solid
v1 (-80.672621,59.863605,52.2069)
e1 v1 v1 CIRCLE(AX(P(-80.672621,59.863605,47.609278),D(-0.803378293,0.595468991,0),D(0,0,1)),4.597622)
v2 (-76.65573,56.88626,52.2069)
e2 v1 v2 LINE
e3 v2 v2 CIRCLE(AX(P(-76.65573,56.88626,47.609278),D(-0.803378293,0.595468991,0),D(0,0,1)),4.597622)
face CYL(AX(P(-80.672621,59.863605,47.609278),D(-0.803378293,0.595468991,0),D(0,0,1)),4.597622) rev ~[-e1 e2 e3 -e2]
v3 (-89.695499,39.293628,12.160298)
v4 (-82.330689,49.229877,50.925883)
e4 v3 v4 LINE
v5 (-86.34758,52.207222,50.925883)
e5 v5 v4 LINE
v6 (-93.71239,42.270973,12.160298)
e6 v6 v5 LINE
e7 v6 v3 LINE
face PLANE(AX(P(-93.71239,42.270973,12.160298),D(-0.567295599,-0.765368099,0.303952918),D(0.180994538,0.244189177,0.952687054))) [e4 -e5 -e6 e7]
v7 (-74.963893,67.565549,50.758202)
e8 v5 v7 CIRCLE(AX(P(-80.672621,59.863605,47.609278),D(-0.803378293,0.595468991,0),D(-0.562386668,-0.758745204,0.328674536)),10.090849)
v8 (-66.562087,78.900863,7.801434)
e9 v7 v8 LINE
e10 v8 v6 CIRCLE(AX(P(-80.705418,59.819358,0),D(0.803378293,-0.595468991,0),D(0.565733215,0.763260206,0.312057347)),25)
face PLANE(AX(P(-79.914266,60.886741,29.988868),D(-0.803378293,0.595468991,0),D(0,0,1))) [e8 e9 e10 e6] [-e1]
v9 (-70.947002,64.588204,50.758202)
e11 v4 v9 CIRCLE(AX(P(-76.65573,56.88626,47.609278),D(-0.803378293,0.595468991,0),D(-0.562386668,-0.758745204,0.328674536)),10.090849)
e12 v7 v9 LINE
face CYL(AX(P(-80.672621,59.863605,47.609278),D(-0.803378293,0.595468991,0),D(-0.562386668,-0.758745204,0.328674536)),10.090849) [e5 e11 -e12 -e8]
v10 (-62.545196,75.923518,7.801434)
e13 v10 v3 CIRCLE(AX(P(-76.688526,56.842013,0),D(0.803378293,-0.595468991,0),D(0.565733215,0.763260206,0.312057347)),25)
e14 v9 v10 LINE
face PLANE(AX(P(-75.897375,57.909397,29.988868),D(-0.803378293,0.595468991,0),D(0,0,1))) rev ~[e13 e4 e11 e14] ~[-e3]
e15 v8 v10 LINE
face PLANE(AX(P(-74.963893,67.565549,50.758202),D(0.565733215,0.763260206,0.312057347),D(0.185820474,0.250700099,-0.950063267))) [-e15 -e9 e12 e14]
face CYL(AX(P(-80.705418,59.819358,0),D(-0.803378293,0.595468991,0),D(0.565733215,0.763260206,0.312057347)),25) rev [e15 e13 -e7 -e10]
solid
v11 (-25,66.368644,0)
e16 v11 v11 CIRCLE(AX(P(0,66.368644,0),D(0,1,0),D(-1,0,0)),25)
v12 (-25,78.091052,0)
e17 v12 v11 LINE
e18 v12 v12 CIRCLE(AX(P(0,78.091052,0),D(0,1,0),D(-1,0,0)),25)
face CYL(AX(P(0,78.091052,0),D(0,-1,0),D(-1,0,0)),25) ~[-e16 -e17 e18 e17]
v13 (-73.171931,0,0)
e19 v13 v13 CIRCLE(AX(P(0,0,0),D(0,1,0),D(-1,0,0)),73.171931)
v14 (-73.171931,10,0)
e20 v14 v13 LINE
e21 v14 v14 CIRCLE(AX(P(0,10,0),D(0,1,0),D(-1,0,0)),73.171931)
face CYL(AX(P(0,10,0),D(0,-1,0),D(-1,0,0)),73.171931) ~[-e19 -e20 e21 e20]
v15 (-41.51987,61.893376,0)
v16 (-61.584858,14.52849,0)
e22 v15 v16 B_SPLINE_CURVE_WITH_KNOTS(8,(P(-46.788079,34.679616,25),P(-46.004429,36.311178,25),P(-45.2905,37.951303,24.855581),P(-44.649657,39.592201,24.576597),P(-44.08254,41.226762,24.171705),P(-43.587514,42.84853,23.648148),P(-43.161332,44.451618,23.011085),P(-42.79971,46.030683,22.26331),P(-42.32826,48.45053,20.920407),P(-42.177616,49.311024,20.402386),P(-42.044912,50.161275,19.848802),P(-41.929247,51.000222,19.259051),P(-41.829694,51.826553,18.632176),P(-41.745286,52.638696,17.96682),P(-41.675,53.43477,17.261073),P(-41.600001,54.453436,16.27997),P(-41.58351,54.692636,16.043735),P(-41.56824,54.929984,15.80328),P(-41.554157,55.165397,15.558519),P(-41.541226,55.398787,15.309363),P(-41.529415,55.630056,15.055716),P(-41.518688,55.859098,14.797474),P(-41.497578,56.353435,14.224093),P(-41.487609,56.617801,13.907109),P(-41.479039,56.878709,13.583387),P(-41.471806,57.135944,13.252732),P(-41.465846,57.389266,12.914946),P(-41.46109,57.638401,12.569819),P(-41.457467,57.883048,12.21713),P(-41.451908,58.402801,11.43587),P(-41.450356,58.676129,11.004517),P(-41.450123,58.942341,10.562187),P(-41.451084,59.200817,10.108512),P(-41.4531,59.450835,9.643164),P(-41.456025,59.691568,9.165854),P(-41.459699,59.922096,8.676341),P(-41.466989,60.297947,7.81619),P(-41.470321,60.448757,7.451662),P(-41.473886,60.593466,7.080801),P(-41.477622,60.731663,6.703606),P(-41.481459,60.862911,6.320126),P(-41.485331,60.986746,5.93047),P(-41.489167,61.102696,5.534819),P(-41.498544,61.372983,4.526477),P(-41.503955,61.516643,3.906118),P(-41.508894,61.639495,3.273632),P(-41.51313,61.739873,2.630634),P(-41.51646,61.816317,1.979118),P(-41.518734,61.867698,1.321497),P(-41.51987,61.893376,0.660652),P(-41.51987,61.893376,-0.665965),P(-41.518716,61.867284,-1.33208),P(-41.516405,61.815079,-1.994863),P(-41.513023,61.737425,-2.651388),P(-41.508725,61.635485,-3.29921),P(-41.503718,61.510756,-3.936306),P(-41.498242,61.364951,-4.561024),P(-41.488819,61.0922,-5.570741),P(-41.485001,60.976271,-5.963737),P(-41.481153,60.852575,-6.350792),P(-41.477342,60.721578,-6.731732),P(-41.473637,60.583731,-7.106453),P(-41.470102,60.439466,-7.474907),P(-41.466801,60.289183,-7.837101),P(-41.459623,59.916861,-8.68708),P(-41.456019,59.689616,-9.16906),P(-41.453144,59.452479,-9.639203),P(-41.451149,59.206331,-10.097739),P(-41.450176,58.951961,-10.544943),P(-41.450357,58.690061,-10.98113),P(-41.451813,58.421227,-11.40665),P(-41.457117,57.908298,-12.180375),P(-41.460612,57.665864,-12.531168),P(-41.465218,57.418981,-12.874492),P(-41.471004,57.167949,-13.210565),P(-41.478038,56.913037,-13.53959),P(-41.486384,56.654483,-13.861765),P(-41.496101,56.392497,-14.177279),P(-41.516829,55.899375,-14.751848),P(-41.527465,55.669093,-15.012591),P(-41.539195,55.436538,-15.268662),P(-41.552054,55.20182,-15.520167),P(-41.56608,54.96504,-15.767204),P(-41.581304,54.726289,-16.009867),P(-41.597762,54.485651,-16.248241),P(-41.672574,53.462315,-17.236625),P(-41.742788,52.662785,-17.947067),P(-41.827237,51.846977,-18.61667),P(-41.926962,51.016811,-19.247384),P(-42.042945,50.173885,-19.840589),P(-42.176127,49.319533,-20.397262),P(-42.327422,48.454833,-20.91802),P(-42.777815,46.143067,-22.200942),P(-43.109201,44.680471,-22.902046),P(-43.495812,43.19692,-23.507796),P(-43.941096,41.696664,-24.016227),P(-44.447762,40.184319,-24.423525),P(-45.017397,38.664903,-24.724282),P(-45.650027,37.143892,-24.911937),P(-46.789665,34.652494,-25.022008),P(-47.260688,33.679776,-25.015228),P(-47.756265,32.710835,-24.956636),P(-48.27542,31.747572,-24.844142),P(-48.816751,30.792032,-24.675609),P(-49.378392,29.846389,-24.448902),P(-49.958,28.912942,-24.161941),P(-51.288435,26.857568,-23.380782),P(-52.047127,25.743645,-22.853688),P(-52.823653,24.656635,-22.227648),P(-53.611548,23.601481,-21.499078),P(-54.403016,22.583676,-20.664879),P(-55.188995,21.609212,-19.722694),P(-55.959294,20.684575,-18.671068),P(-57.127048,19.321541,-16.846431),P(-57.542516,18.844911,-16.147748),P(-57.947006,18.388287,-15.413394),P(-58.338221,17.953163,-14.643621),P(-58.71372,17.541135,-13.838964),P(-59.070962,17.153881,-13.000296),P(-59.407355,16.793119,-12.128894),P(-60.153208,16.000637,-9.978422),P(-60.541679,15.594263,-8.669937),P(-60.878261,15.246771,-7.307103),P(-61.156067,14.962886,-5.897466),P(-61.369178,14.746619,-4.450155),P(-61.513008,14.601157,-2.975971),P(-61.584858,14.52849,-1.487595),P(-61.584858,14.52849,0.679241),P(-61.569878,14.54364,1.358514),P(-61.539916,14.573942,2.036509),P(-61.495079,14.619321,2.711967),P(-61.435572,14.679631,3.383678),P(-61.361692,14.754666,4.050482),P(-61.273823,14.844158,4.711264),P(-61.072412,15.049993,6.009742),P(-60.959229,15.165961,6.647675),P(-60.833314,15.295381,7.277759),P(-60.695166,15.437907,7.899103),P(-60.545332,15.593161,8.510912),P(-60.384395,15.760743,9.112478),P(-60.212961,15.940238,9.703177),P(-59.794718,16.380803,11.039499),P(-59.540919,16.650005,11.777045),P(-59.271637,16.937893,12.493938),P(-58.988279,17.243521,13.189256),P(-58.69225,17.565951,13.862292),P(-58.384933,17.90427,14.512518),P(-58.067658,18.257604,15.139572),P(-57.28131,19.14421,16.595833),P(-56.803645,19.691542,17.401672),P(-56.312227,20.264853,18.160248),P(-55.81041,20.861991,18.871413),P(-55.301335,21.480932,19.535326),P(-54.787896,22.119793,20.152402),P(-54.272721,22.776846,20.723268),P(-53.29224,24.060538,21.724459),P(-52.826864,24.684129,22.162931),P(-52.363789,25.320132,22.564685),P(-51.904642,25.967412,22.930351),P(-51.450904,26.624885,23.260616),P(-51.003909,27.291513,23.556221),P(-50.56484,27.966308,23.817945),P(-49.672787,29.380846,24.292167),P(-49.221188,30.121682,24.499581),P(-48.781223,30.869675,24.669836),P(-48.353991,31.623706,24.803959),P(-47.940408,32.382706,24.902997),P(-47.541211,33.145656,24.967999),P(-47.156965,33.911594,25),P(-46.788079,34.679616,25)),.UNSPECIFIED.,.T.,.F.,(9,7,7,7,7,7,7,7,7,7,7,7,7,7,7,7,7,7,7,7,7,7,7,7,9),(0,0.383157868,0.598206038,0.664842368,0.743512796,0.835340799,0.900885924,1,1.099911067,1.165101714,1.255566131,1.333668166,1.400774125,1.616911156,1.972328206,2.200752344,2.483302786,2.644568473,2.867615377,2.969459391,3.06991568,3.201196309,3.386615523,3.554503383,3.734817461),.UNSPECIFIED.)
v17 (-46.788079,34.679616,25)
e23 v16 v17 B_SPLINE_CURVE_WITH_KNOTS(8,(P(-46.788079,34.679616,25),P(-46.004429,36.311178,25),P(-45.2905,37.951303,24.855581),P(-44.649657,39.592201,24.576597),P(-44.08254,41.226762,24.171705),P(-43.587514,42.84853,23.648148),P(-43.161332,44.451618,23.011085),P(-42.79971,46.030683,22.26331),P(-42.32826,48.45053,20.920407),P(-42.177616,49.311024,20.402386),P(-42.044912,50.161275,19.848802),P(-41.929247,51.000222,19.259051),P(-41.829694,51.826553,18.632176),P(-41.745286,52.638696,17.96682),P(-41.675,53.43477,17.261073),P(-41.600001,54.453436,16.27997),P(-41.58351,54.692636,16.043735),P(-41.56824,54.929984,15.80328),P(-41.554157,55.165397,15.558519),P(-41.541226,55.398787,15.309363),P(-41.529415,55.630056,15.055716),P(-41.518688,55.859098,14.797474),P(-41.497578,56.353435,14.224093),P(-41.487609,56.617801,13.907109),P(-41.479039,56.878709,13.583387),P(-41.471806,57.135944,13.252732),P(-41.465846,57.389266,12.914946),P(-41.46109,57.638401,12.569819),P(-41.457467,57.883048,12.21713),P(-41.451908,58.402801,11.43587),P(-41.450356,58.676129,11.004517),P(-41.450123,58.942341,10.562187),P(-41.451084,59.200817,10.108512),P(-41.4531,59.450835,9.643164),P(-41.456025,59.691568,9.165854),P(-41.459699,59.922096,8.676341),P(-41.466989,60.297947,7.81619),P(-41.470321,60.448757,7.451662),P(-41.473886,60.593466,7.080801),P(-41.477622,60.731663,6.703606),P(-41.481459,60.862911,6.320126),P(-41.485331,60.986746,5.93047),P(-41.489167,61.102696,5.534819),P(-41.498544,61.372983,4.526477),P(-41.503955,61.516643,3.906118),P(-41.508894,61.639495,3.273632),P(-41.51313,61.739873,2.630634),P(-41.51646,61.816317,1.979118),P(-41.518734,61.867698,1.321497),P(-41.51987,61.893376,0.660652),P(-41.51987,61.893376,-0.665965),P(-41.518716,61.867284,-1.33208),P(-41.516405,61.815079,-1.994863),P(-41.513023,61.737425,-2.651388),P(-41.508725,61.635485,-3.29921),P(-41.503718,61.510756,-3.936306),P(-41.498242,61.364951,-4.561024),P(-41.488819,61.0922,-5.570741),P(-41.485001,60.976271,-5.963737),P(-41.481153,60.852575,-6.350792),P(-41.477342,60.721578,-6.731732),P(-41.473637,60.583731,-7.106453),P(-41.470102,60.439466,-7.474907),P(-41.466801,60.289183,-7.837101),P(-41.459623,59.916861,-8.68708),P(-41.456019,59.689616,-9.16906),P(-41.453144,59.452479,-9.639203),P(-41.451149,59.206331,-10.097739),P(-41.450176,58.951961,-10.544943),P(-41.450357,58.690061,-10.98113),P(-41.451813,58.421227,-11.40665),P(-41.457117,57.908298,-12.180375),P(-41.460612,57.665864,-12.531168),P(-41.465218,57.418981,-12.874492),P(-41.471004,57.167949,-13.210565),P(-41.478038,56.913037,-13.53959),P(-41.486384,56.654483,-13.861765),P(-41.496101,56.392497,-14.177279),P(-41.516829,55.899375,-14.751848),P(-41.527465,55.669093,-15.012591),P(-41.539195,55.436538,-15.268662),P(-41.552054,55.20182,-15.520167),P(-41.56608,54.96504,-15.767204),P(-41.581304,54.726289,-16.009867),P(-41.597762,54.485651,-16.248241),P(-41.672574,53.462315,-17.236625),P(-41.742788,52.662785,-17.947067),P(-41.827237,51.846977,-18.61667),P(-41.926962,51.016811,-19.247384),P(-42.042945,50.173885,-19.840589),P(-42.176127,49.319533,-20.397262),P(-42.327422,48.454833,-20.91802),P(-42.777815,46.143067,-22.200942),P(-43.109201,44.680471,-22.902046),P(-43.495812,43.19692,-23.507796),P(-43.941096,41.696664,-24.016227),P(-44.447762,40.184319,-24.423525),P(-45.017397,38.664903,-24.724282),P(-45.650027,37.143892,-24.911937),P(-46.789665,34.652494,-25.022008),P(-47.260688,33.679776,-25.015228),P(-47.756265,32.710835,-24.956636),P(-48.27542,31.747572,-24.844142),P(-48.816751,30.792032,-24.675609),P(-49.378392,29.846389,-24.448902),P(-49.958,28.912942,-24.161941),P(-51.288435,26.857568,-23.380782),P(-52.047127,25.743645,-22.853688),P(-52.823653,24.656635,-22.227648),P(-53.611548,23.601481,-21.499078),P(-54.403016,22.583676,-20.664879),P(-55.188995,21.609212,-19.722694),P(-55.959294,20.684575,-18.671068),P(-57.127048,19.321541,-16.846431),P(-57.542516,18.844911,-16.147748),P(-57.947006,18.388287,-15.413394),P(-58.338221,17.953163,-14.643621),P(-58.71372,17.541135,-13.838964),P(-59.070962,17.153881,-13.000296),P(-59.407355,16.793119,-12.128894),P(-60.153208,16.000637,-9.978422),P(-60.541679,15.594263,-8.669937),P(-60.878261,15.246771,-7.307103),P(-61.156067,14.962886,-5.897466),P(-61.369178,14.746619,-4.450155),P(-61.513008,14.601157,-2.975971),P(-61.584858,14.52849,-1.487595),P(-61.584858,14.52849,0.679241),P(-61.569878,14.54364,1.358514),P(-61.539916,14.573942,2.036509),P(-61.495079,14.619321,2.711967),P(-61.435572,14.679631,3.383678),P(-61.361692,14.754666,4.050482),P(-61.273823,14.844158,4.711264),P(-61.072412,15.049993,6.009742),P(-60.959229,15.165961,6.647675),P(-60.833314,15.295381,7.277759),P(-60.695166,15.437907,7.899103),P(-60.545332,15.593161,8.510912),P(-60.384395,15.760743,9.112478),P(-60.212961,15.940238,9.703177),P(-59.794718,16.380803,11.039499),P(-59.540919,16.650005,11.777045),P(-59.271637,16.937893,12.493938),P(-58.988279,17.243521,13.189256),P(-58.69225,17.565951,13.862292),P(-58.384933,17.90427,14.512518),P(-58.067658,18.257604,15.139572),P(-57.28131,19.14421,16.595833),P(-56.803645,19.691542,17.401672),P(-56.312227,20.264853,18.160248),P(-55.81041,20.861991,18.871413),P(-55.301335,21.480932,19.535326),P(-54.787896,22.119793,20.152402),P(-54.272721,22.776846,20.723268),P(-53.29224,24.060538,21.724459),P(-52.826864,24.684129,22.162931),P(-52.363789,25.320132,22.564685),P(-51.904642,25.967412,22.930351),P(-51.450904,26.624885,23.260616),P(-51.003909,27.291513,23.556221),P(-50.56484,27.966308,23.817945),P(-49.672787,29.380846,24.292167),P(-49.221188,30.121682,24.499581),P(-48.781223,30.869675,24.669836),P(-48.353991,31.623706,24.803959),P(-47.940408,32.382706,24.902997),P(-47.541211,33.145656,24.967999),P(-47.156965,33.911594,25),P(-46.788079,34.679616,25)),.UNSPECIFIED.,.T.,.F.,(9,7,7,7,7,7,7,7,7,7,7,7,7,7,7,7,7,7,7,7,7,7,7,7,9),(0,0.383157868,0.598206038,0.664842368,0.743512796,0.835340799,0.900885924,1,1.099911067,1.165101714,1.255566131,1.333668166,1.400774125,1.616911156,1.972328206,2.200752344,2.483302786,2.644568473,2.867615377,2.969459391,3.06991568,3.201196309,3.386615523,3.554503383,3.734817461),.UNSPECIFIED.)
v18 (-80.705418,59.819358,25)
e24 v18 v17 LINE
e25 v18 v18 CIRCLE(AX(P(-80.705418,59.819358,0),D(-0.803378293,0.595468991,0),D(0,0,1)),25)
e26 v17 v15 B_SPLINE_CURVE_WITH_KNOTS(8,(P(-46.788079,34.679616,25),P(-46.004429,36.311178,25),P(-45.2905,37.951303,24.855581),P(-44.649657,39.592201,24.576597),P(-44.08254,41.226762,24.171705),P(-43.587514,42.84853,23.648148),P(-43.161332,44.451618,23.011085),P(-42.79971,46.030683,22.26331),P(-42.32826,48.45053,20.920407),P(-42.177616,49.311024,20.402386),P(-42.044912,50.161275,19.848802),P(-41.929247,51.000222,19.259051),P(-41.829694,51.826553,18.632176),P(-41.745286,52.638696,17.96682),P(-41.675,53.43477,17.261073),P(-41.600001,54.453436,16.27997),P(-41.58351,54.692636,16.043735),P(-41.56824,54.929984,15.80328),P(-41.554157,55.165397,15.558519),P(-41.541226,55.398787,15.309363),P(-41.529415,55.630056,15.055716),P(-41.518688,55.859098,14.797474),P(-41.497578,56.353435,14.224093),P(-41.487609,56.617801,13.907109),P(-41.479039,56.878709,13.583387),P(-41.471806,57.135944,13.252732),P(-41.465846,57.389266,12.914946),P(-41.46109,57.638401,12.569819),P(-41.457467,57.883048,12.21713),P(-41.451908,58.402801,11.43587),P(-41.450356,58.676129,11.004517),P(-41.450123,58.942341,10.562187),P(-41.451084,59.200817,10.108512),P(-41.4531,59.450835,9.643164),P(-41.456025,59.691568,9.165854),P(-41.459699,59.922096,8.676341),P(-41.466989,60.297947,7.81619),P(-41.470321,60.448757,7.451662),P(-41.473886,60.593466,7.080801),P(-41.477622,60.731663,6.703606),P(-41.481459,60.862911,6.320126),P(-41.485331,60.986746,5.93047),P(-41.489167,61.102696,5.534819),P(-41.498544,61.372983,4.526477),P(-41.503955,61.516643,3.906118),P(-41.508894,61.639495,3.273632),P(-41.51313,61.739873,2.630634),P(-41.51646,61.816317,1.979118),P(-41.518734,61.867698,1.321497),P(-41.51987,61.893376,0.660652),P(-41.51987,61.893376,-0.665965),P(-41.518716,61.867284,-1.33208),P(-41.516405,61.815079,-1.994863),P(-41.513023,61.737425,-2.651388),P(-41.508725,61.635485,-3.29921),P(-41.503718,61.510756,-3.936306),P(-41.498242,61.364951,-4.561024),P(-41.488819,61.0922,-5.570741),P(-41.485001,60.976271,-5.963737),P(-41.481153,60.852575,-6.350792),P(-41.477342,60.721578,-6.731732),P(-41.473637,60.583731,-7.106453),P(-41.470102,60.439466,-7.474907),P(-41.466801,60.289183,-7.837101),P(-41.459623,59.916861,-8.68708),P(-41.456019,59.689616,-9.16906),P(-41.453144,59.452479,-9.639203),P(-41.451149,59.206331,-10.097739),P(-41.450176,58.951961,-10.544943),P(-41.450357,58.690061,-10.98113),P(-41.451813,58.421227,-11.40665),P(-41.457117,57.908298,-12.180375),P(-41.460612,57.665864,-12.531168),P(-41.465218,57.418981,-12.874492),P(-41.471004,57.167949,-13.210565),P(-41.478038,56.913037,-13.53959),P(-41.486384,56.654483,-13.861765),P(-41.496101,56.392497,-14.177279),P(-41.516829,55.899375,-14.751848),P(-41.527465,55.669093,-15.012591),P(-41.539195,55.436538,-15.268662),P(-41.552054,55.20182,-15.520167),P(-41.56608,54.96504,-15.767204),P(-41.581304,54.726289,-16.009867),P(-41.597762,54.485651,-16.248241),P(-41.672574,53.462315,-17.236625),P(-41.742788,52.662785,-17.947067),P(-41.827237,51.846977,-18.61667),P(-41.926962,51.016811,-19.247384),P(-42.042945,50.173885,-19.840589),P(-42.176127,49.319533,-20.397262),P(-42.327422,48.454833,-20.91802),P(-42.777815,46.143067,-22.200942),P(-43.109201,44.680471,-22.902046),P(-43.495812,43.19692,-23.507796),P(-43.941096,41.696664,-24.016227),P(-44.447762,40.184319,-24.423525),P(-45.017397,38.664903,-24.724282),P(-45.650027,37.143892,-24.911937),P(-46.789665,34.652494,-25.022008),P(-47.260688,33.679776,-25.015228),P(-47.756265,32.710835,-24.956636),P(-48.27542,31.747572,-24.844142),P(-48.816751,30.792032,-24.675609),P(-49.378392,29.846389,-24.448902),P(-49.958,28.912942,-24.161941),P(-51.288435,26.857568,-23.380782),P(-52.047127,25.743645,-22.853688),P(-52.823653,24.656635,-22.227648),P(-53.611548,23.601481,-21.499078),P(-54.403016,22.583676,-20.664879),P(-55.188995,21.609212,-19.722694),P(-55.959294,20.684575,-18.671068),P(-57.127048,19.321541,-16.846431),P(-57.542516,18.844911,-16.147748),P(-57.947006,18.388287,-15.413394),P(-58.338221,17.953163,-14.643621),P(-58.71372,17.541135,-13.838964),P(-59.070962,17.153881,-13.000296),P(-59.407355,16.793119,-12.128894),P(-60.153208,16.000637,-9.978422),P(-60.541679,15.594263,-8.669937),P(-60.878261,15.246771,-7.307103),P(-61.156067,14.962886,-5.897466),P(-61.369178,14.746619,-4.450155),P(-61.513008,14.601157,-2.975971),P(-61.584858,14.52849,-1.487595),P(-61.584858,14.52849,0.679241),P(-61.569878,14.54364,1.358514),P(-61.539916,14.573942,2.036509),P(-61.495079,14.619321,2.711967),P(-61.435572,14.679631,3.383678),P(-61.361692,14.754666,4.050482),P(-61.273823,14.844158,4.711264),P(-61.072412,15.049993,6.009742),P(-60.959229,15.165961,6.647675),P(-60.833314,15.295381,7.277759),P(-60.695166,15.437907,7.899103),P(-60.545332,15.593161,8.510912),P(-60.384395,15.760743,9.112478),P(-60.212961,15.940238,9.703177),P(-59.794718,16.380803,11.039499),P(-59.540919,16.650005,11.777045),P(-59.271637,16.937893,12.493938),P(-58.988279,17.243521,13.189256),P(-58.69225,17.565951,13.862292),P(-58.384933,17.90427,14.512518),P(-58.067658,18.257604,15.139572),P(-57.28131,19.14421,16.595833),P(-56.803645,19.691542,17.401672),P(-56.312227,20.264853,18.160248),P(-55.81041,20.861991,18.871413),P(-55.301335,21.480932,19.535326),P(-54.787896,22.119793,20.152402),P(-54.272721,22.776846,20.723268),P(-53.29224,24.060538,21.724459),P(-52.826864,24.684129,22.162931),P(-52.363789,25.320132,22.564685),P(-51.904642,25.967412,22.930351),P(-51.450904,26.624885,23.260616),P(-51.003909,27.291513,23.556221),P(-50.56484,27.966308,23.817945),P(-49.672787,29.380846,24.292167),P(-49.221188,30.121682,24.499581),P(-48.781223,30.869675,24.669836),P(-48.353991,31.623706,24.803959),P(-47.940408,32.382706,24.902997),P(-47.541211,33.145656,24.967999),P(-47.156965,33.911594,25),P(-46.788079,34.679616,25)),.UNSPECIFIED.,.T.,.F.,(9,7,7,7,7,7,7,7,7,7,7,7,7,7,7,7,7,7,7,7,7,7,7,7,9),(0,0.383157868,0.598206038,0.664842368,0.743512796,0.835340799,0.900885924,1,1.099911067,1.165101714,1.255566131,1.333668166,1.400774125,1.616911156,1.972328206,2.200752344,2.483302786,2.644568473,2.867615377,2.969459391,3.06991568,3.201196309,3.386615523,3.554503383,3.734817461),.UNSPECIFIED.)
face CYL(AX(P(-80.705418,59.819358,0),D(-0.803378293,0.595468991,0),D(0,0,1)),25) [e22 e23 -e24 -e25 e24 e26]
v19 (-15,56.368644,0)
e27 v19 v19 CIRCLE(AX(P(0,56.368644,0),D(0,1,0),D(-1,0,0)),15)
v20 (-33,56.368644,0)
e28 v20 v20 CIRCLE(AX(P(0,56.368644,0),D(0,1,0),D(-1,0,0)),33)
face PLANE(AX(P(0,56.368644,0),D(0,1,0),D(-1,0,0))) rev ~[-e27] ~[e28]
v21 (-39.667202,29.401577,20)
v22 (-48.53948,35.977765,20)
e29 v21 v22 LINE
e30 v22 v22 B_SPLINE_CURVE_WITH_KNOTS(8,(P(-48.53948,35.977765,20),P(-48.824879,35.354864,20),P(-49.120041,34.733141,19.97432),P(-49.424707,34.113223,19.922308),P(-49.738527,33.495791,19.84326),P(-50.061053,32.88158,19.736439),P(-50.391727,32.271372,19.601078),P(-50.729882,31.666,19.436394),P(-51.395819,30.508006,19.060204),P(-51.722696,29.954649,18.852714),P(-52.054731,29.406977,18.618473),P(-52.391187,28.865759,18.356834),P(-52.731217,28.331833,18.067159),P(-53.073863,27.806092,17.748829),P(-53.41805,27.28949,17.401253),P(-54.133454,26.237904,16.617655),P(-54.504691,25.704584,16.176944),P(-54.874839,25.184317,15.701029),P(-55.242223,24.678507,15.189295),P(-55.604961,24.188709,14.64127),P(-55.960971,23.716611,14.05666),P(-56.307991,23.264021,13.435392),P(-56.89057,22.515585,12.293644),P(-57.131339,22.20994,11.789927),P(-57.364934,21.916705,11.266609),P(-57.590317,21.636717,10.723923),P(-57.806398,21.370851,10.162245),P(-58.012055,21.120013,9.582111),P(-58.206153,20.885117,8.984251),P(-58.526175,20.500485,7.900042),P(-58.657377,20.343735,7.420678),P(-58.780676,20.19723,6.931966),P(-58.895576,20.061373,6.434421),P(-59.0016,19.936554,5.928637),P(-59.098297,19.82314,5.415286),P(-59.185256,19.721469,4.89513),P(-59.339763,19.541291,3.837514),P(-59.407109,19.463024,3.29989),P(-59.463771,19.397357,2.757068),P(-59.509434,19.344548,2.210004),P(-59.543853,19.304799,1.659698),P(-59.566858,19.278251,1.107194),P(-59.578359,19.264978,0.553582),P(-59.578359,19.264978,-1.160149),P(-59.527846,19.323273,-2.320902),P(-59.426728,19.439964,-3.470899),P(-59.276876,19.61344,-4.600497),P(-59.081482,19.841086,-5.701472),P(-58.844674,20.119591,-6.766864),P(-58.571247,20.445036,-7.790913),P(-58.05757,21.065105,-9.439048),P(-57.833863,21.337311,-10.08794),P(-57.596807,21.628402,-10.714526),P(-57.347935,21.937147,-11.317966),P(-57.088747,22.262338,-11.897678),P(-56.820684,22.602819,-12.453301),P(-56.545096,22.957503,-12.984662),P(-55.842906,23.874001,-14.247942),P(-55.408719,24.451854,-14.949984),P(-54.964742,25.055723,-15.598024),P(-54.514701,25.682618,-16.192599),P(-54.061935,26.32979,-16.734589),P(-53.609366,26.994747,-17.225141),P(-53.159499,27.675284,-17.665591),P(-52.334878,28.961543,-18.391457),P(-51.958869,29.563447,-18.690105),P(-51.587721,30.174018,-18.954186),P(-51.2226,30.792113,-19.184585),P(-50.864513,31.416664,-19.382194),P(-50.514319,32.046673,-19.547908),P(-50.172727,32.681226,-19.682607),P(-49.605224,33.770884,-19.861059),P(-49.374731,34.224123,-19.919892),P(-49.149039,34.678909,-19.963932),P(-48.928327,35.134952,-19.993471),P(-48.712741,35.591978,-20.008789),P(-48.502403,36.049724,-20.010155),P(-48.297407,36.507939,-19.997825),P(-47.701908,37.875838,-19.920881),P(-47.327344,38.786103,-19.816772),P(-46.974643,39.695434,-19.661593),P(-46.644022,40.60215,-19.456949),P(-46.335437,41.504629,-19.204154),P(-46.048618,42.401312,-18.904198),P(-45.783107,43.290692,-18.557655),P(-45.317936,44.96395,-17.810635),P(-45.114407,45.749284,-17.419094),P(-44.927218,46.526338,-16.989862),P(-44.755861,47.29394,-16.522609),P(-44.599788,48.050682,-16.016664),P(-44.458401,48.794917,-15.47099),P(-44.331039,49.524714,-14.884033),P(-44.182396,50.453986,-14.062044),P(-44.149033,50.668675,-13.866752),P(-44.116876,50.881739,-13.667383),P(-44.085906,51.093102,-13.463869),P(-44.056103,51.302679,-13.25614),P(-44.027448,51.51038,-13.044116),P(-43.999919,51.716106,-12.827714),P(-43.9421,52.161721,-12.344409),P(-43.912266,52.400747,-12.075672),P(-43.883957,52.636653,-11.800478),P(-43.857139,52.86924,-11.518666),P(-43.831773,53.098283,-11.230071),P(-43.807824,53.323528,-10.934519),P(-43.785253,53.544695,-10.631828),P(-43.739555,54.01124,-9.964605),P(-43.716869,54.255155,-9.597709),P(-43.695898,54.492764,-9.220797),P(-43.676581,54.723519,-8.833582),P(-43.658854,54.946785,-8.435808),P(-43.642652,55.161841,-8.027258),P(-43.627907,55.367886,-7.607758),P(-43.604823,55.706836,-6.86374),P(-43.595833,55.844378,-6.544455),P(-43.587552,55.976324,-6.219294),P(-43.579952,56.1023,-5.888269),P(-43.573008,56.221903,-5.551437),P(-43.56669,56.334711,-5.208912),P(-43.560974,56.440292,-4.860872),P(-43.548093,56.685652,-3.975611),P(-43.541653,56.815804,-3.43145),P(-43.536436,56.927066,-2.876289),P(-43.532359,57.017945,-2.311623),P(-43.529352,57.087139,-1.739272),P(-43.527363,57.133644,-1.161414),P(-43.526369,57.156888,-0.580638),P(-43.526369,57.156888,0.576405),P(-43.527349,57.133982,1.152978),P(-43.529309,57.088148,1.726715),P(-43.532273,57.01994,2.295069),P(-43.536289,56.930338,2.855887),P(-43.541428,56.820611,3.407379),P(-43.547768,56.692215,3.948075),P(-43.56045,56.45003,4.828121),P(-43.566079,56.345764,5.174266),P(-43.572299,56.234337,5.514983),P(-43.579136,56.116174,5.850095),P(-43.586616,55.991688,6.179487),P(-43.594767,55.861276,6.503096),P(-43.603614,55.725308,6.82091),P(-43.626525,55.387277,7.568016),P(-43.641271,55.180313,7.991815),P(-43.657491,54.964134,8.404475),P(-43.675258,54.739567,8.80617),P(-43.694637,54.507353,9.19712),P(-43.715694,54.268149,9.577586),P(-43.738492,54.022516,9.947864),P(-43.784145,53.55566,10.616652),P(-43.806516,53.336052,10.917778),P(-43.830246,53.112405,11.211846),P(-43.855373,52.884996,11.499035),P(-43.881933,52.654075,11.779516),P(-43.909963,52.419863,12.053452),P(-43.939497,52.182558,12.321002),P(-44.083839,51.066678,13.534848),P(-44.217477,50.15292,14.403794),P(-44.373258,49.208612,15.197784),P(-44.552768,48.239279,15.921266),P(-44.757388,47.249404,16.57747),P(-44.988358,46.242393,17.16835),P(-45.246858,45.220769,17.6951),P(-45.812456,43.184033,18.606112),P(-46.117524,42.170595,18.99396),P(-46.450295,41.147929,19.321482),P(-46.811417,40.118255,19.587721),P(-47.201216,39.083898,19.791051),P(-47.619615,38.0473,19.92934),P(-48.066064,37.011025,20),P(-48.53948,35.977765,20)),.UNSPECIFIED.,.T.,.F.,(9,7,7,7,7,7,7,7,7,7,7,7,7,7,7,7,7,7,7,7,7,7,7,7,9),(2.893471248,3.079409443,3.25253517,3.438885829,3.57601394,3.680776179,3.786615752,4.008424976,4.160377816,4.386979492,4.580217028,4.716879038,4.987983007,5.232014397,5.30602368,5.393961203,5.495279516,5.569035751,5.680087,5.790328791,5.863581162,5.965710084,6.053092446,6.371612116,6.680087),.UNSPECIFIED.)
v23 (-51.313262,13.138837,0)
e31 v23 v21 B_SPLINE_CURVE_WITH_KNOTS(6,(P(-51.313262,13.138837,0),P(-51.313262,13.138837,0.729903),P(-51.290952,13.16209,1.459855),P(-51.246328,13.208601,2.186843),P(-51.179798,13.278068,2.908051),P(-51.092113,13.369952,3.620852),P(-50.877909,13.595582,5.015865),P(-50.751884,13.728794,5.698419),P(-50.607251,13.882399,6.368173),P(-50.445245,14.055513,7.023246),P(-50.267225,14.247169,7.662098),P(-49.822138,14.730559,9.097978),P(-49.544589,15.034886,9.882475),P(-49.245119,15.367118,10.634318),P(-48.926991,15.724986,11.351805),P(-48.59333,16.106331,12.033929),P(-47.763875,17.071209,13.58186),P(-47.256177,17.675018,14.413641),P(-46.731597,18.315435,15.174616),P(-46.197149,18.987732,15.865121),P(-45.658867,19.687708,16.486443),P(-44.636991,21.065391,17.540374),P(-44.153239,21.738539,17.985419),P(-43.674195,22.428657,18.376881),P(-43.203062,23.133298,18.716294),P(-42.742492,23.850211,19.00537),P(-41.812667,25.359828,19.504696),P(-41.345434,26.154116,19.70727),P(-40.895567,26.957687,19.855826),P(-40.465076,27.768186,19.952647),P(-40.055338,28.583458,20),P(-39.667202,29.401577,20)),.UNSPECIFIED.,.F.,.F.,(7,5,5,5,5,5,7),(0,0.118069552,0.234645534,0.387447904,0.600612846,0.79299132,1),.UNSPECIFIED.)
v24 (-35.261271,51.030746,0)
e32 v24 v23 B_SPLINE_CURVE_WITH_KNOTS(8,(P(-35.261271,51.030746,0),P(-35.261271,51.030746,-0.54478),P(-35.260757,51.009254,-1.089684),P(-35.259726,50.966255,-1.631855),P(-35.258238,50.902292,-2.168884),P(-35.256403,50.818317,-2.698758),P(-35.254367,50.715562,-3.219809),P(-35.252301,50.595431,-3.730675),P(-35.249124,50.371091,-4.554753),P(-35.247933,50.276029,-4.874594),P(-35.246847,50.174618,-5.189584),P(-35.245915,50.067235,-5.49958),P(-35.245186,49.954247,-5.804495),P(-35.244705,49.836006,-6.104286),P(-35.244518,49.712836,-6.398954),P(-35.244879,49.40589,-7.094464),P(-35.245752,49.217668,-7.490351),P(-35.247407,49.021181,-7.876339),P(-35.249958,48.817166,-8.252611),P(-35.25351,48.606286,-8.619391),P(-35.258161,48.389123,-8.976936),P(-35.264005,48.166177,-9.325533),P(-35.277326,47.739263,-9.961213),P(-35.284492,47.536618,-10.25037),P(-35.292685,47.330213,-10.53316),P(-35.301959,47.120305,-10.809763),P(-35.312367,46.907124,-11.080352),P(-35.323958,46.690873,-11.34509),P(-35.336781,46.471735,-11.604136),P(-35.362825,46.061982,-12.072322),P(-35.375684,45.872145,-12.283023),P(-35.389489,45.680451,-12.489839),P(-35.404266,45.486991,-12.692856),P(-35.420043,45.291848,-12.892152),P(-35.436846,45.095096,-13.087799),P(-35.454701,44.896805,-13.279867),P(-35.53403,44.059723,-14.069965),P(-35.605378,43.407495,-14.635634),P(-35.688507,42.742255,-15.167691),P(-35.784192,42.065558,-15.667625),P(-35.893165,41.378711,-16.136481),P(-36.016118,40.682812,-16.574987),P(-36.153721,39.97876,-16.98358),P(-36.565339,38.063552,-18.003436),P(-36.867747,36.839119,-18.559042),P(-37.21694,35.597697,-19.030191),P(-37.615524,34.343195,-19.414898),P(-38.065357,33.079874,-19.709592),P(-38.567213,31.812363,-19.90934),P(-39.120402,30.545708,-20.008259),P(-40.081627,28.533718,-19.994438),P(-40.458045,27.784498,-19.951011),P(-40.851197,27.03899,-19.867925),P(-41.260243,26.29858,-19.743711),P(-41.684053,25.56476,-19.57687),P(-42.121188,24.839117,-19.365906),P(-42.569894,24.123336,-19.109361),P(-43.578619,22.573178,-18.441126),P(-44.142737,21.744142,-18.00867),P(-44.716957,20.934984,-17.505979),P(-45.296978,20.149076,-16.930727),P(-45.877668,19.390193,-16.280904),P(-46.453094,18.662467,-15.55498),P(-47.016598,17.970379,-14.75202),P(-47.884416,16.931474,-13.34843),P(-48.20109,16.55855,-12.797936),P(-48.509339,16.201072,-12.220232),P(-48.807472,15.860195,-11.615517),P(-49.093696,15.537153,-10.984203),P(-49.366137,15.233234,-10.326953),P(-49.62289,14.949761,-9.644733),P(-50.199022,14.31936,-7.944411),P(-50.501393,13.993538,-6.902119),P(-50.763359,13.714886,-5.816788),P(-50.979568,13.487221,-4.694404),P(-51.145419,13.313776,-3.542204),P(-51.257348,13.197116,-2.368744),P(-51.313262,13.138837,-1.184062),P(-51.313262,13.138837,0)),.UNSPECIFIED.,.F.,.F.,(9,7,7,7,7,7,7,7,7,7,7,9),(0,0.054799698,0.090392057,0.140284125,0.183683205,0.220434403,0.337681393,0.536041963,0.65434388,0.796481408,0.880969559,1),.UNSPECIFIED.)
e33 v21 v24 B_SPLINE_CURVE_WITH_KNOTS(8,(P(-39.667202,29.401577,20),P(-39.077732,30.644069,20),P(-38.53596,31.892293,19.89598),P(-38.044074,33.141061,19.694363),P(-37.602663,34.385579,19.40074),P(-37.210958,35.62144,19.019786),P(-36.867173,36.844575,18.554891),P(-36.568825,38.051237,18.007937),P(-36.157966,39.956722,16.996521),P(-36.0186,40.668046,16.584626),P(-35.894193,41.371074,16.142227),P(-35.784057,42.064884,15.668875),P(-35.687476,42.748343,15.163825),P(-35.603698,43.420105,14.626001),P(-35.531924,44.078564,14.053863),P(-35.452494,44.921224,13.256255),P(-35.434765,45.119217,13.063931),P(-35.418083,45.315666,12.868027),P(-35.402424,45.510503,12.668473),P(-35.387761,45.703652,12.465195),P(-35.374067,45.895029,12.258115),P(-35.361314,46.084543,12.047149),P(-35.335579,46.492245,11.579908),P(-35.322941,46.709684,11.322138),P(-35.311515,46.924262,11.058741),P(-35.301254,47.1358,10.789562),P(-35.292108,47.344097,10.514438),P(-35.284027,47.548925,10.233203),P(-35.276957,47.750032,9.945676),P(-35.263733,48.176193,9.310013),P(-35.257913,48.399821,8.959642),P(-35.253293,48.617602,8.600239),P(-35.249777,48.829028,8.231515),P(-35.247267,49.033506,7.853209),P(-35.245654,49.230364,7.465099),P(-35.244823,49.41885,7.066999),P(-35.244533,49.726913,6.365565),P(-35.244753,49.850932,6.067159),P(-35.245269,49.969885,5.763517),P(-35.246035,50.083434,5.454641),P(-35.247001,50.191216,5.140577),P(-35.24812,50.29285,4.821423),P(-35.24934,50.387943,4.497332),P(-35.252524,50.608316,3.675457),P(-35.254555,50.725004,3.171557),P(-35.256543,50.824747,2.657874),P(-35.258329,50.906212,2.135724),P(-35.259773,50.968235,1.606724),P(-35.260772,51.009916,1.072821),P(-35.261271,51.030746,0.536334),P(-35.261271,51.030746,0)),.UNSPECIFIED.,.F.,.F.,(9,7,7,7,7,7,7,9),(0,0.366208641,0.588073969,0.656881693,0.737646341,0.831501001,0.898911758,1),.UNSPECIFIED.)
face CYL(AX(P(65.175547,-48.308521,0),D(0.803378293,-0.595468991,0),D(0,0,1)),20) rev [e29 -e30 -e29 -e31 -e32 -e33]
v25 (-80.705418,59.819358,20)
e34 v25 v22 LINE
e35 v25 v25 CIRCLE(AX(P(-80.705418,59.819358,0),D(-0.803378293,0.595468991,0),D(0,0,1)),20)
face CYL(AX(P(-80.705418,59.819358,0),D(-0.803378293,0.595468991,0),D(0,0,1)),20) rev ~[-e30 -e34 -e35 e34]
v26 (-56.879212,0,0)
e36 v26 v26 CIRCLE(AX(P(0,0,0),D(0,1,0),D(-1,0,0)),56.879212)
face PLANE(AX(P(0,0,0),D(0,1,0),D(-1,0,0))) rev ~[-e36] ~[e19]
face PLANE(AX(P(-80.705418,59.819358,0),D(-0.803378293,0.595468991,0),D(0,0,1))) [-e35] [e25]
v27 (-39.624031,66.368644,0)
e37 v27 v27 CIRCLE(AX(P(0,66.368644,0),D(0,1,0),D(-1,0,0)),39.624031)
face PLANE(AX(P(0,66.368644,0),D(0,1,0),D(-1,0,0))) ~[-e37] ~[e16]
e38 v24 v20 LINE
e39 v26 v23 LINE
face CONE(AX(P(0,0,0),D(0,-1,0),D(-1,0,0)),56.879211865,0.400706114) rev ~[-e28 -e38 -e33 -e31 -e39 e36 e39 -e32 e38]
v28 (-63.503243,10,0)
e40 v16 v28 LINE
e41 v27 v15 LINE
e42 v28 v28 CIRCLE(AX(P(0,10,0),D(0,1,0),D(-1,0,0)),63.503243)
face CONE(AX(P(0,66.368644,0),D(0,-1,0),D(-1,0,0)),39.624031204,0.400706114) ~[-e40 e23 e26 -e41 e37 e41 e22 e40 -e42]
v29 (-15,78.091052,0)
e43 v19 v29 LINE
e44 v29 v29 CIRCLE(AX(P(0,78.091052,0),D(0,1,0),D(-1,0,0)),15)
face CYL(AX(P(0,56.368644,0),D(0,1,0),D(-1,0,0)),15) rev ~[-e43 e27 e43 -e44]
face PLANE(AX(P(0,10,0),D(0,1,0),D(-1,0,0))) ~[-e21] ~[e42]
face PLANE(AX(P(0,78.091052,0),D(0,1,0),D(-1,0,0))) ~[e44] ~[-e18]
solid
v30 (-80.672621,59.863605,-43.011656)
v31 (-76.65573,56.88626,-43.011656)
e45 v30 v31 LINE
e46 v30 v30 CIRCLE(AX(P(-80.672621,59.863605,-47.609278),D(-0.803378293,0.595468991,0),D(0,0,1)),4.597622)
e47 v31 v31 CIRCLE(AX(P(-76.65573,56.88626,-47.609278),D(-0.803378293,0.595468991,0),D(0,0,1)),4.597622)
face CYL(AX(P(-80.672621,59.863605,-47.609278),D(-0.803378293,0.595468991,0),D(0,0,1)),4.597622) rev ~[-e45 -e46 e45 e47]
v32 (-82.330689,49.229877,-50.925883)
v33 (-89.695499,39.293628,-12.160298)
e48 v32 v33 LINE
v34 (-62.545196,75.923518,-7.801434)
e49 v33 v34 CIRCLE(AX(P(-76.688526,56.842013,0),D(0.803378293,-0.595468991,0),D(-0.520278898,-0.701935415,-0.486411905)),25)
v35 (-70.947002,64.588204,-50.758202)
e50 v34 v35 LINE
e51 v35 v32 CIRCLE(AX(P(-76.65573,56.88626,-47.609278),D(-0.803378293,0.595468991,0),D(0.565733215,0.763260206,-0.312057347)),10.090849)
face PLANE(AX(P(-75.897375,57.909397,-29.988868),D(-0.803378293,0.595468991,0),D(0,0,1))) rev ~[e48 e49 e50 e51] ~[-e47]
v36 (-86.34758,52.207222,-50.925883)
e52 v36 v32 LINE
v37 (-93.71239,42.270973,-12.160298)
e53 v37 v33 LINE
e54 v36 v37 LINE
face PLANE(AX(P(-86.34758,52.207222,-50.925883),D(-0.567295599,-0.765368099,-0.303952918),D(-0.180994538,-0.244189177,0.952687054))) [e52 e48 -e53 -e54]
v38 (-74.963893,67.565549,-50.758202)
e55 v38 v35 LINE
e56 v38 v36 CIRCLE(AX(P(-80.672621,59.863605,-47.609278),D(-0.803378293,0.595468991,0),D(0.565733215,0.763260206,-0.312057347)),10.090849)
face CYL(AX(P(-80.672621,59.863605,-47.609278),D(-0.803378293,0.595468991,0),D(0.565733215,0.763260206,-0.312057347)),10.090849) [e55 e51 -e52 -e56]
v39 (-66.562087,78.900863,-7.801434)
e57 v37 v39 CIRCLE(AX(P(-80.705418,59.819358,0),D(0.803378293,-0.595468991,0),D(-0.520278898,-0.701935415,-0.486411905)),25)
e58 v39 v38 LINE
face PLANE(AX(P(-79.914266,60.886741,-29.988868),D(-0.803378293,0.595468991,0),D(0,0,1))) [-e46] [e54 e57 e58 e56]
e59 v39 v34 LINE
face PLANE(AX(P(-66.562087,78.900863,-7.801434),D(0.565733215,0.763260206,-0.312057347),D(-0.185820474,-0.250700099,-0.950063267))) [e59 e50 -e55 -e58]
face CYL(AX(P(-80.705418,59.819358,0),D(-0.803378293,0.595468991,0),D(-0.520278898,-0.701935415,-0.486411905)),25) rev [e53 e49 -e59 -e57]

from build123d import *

# Parameters (mm, degrees)
SKETCH_4_R               = 4.59762215
EXTRUDE_1_DEPTH          = 5
EXTRUDE_1_2_DEPTH        = 5
EXTRUDE_2_REACH          = 182.584
SKETCH_4_3_R             = 25
SKETCH_4_3_R_2           = 20
CUT_EXTRUDE_1_DEPTH      = 181.584399592
CUT_EXTRUDE_1_DEPTH_BACK = 181.584399592
SKETCH_4_4_R             = 20


with BuildPart() as part:
    # 草图1 → 旋转1 (revolve)
    with BuildSketch(Plane.XY):
        Polygon((-15, 78.091052065), (-25, 78.091052065), (-25, 66.368643655), (-39.624031204, 66.368643655), (-63.50324307, 10), (-73.171930675, 10), (-73.171930675, 0), (-56.879211865, 0), (-33, 56.368643655), (-15, 56.368643655), align=None)
    revolve(axis=Axis((0, 0, 0), (0, 1, 0)))

    # 草图4<3> → 凸台-拉伸2 (add, up to next)
    with BuildSketch(Plane(origin=(-80.705417736, 59.819357933, 0), x_dir=(0, 0, 1), z_dir=(-0.8033782926562896, 0.5954689907028451, 0)), mode=Mode.PRIVATE) as extrude_2_sk1:
        Circle(SKETCH_4_3_R)
        Circle(SKETCH_4_3_R_2, mode=Mode.SUBTRACT)
    extrude_2_tool1 = extrude(extrude_2_sk1.sketch, amount=-EXTRUDE_2_REACH, mode=Mode.PRIVATE) - part.part
    add(extrude_2_tool1.solids().sort_by_distance((-80.705418, 59.819358, -24.292893))[0])

    # 草图4<4> → 切除-拉伸1 (cut, two sides: drawn at the far end of the back side and taken through both)
    with BuildSketch(Plane(origin=(-80.705417736, 59.819357933, 0), x_dir=(0, 0, 1), z_dir=(-0.8033782926562896, 0.5954689907028451, 0)).offset(-CUT_EXTRUDE_1_DEPTH_BACK)):
        Circle(SKETCH_4_4_R)
    extrude(amount=CUT_EXTRUDE_1_DEPTH + CUT_EXTRUDE_1_DEPTH_BACK, mode=Mode.SUBTRACT)


with BuildPart() as body_2:
    # 草图4 → 凸台-拉伸1 (new body)
    with BuildSketch(Plane(origin=(-80.705417736, 59.819357933, 0), x_dir=(0, 0, 1), z_dir=(-0.8033782926562896, 0.5954689907028451, 0))):
        with BuildLine():
            ThreePointArc((-12.160297615, -21.843240646), (-24.886535213, 2.379152178), (-7.801433677, 23.751581686))
            Line((-7.801433677, 23.751581686), (-50.758201751, 9.642021256))
            ThreePointArc((-50.758201751, 9.642021256), (-57.699738806, 0.143582546), (-50.92588329, -9.475157291))
            Line((-50.92588329, -9.475157291), (-12.160297615, -21.843240646))
        make_face()
        with Locations((-47.609278287, 0.055076602)):
            Circle(SKETCH_4_R, mode=Mode.SUBTRACT)
    extrude(amount=-EXTRUDE_1_DEPTH)


with BuildPart() as body_3:
    # 草图4 → Extrude 1 2 (new body)
    with BuildSketch(Plane(origin=(-80.705417736, 59.819357933, 0), x_dir=(0, 0, 1), z_dir=(-0.8033782926562896, 0.5954689907028451, 0))):
        with BuildLine():
            Line((50.758201751, 9.642021256), (7.801433677, 23.751581686))
            ThreePointArc((7.801433677, 23.751581686), (24.886535213, 2.379152178), (12.160297615, -21.843240646))
            Line((12.160297615, -21.843240646), (50.92588329, -9.475157291))
            ThreePointArc((50.92588329, -9.475157291), (57.699738806, 0.143582546), (50.758201751, 9.642021256))
        make_face()
        with Locations((47.609278287, 0.055076602)):
            Circle(SKETCH_4_R, mode=Mode.SUBTRACT)
    extrude(amount=-EXTRUDE_1_2_DEPTH)


solid = Compound([part.part, body_2.part, body_3.part])
